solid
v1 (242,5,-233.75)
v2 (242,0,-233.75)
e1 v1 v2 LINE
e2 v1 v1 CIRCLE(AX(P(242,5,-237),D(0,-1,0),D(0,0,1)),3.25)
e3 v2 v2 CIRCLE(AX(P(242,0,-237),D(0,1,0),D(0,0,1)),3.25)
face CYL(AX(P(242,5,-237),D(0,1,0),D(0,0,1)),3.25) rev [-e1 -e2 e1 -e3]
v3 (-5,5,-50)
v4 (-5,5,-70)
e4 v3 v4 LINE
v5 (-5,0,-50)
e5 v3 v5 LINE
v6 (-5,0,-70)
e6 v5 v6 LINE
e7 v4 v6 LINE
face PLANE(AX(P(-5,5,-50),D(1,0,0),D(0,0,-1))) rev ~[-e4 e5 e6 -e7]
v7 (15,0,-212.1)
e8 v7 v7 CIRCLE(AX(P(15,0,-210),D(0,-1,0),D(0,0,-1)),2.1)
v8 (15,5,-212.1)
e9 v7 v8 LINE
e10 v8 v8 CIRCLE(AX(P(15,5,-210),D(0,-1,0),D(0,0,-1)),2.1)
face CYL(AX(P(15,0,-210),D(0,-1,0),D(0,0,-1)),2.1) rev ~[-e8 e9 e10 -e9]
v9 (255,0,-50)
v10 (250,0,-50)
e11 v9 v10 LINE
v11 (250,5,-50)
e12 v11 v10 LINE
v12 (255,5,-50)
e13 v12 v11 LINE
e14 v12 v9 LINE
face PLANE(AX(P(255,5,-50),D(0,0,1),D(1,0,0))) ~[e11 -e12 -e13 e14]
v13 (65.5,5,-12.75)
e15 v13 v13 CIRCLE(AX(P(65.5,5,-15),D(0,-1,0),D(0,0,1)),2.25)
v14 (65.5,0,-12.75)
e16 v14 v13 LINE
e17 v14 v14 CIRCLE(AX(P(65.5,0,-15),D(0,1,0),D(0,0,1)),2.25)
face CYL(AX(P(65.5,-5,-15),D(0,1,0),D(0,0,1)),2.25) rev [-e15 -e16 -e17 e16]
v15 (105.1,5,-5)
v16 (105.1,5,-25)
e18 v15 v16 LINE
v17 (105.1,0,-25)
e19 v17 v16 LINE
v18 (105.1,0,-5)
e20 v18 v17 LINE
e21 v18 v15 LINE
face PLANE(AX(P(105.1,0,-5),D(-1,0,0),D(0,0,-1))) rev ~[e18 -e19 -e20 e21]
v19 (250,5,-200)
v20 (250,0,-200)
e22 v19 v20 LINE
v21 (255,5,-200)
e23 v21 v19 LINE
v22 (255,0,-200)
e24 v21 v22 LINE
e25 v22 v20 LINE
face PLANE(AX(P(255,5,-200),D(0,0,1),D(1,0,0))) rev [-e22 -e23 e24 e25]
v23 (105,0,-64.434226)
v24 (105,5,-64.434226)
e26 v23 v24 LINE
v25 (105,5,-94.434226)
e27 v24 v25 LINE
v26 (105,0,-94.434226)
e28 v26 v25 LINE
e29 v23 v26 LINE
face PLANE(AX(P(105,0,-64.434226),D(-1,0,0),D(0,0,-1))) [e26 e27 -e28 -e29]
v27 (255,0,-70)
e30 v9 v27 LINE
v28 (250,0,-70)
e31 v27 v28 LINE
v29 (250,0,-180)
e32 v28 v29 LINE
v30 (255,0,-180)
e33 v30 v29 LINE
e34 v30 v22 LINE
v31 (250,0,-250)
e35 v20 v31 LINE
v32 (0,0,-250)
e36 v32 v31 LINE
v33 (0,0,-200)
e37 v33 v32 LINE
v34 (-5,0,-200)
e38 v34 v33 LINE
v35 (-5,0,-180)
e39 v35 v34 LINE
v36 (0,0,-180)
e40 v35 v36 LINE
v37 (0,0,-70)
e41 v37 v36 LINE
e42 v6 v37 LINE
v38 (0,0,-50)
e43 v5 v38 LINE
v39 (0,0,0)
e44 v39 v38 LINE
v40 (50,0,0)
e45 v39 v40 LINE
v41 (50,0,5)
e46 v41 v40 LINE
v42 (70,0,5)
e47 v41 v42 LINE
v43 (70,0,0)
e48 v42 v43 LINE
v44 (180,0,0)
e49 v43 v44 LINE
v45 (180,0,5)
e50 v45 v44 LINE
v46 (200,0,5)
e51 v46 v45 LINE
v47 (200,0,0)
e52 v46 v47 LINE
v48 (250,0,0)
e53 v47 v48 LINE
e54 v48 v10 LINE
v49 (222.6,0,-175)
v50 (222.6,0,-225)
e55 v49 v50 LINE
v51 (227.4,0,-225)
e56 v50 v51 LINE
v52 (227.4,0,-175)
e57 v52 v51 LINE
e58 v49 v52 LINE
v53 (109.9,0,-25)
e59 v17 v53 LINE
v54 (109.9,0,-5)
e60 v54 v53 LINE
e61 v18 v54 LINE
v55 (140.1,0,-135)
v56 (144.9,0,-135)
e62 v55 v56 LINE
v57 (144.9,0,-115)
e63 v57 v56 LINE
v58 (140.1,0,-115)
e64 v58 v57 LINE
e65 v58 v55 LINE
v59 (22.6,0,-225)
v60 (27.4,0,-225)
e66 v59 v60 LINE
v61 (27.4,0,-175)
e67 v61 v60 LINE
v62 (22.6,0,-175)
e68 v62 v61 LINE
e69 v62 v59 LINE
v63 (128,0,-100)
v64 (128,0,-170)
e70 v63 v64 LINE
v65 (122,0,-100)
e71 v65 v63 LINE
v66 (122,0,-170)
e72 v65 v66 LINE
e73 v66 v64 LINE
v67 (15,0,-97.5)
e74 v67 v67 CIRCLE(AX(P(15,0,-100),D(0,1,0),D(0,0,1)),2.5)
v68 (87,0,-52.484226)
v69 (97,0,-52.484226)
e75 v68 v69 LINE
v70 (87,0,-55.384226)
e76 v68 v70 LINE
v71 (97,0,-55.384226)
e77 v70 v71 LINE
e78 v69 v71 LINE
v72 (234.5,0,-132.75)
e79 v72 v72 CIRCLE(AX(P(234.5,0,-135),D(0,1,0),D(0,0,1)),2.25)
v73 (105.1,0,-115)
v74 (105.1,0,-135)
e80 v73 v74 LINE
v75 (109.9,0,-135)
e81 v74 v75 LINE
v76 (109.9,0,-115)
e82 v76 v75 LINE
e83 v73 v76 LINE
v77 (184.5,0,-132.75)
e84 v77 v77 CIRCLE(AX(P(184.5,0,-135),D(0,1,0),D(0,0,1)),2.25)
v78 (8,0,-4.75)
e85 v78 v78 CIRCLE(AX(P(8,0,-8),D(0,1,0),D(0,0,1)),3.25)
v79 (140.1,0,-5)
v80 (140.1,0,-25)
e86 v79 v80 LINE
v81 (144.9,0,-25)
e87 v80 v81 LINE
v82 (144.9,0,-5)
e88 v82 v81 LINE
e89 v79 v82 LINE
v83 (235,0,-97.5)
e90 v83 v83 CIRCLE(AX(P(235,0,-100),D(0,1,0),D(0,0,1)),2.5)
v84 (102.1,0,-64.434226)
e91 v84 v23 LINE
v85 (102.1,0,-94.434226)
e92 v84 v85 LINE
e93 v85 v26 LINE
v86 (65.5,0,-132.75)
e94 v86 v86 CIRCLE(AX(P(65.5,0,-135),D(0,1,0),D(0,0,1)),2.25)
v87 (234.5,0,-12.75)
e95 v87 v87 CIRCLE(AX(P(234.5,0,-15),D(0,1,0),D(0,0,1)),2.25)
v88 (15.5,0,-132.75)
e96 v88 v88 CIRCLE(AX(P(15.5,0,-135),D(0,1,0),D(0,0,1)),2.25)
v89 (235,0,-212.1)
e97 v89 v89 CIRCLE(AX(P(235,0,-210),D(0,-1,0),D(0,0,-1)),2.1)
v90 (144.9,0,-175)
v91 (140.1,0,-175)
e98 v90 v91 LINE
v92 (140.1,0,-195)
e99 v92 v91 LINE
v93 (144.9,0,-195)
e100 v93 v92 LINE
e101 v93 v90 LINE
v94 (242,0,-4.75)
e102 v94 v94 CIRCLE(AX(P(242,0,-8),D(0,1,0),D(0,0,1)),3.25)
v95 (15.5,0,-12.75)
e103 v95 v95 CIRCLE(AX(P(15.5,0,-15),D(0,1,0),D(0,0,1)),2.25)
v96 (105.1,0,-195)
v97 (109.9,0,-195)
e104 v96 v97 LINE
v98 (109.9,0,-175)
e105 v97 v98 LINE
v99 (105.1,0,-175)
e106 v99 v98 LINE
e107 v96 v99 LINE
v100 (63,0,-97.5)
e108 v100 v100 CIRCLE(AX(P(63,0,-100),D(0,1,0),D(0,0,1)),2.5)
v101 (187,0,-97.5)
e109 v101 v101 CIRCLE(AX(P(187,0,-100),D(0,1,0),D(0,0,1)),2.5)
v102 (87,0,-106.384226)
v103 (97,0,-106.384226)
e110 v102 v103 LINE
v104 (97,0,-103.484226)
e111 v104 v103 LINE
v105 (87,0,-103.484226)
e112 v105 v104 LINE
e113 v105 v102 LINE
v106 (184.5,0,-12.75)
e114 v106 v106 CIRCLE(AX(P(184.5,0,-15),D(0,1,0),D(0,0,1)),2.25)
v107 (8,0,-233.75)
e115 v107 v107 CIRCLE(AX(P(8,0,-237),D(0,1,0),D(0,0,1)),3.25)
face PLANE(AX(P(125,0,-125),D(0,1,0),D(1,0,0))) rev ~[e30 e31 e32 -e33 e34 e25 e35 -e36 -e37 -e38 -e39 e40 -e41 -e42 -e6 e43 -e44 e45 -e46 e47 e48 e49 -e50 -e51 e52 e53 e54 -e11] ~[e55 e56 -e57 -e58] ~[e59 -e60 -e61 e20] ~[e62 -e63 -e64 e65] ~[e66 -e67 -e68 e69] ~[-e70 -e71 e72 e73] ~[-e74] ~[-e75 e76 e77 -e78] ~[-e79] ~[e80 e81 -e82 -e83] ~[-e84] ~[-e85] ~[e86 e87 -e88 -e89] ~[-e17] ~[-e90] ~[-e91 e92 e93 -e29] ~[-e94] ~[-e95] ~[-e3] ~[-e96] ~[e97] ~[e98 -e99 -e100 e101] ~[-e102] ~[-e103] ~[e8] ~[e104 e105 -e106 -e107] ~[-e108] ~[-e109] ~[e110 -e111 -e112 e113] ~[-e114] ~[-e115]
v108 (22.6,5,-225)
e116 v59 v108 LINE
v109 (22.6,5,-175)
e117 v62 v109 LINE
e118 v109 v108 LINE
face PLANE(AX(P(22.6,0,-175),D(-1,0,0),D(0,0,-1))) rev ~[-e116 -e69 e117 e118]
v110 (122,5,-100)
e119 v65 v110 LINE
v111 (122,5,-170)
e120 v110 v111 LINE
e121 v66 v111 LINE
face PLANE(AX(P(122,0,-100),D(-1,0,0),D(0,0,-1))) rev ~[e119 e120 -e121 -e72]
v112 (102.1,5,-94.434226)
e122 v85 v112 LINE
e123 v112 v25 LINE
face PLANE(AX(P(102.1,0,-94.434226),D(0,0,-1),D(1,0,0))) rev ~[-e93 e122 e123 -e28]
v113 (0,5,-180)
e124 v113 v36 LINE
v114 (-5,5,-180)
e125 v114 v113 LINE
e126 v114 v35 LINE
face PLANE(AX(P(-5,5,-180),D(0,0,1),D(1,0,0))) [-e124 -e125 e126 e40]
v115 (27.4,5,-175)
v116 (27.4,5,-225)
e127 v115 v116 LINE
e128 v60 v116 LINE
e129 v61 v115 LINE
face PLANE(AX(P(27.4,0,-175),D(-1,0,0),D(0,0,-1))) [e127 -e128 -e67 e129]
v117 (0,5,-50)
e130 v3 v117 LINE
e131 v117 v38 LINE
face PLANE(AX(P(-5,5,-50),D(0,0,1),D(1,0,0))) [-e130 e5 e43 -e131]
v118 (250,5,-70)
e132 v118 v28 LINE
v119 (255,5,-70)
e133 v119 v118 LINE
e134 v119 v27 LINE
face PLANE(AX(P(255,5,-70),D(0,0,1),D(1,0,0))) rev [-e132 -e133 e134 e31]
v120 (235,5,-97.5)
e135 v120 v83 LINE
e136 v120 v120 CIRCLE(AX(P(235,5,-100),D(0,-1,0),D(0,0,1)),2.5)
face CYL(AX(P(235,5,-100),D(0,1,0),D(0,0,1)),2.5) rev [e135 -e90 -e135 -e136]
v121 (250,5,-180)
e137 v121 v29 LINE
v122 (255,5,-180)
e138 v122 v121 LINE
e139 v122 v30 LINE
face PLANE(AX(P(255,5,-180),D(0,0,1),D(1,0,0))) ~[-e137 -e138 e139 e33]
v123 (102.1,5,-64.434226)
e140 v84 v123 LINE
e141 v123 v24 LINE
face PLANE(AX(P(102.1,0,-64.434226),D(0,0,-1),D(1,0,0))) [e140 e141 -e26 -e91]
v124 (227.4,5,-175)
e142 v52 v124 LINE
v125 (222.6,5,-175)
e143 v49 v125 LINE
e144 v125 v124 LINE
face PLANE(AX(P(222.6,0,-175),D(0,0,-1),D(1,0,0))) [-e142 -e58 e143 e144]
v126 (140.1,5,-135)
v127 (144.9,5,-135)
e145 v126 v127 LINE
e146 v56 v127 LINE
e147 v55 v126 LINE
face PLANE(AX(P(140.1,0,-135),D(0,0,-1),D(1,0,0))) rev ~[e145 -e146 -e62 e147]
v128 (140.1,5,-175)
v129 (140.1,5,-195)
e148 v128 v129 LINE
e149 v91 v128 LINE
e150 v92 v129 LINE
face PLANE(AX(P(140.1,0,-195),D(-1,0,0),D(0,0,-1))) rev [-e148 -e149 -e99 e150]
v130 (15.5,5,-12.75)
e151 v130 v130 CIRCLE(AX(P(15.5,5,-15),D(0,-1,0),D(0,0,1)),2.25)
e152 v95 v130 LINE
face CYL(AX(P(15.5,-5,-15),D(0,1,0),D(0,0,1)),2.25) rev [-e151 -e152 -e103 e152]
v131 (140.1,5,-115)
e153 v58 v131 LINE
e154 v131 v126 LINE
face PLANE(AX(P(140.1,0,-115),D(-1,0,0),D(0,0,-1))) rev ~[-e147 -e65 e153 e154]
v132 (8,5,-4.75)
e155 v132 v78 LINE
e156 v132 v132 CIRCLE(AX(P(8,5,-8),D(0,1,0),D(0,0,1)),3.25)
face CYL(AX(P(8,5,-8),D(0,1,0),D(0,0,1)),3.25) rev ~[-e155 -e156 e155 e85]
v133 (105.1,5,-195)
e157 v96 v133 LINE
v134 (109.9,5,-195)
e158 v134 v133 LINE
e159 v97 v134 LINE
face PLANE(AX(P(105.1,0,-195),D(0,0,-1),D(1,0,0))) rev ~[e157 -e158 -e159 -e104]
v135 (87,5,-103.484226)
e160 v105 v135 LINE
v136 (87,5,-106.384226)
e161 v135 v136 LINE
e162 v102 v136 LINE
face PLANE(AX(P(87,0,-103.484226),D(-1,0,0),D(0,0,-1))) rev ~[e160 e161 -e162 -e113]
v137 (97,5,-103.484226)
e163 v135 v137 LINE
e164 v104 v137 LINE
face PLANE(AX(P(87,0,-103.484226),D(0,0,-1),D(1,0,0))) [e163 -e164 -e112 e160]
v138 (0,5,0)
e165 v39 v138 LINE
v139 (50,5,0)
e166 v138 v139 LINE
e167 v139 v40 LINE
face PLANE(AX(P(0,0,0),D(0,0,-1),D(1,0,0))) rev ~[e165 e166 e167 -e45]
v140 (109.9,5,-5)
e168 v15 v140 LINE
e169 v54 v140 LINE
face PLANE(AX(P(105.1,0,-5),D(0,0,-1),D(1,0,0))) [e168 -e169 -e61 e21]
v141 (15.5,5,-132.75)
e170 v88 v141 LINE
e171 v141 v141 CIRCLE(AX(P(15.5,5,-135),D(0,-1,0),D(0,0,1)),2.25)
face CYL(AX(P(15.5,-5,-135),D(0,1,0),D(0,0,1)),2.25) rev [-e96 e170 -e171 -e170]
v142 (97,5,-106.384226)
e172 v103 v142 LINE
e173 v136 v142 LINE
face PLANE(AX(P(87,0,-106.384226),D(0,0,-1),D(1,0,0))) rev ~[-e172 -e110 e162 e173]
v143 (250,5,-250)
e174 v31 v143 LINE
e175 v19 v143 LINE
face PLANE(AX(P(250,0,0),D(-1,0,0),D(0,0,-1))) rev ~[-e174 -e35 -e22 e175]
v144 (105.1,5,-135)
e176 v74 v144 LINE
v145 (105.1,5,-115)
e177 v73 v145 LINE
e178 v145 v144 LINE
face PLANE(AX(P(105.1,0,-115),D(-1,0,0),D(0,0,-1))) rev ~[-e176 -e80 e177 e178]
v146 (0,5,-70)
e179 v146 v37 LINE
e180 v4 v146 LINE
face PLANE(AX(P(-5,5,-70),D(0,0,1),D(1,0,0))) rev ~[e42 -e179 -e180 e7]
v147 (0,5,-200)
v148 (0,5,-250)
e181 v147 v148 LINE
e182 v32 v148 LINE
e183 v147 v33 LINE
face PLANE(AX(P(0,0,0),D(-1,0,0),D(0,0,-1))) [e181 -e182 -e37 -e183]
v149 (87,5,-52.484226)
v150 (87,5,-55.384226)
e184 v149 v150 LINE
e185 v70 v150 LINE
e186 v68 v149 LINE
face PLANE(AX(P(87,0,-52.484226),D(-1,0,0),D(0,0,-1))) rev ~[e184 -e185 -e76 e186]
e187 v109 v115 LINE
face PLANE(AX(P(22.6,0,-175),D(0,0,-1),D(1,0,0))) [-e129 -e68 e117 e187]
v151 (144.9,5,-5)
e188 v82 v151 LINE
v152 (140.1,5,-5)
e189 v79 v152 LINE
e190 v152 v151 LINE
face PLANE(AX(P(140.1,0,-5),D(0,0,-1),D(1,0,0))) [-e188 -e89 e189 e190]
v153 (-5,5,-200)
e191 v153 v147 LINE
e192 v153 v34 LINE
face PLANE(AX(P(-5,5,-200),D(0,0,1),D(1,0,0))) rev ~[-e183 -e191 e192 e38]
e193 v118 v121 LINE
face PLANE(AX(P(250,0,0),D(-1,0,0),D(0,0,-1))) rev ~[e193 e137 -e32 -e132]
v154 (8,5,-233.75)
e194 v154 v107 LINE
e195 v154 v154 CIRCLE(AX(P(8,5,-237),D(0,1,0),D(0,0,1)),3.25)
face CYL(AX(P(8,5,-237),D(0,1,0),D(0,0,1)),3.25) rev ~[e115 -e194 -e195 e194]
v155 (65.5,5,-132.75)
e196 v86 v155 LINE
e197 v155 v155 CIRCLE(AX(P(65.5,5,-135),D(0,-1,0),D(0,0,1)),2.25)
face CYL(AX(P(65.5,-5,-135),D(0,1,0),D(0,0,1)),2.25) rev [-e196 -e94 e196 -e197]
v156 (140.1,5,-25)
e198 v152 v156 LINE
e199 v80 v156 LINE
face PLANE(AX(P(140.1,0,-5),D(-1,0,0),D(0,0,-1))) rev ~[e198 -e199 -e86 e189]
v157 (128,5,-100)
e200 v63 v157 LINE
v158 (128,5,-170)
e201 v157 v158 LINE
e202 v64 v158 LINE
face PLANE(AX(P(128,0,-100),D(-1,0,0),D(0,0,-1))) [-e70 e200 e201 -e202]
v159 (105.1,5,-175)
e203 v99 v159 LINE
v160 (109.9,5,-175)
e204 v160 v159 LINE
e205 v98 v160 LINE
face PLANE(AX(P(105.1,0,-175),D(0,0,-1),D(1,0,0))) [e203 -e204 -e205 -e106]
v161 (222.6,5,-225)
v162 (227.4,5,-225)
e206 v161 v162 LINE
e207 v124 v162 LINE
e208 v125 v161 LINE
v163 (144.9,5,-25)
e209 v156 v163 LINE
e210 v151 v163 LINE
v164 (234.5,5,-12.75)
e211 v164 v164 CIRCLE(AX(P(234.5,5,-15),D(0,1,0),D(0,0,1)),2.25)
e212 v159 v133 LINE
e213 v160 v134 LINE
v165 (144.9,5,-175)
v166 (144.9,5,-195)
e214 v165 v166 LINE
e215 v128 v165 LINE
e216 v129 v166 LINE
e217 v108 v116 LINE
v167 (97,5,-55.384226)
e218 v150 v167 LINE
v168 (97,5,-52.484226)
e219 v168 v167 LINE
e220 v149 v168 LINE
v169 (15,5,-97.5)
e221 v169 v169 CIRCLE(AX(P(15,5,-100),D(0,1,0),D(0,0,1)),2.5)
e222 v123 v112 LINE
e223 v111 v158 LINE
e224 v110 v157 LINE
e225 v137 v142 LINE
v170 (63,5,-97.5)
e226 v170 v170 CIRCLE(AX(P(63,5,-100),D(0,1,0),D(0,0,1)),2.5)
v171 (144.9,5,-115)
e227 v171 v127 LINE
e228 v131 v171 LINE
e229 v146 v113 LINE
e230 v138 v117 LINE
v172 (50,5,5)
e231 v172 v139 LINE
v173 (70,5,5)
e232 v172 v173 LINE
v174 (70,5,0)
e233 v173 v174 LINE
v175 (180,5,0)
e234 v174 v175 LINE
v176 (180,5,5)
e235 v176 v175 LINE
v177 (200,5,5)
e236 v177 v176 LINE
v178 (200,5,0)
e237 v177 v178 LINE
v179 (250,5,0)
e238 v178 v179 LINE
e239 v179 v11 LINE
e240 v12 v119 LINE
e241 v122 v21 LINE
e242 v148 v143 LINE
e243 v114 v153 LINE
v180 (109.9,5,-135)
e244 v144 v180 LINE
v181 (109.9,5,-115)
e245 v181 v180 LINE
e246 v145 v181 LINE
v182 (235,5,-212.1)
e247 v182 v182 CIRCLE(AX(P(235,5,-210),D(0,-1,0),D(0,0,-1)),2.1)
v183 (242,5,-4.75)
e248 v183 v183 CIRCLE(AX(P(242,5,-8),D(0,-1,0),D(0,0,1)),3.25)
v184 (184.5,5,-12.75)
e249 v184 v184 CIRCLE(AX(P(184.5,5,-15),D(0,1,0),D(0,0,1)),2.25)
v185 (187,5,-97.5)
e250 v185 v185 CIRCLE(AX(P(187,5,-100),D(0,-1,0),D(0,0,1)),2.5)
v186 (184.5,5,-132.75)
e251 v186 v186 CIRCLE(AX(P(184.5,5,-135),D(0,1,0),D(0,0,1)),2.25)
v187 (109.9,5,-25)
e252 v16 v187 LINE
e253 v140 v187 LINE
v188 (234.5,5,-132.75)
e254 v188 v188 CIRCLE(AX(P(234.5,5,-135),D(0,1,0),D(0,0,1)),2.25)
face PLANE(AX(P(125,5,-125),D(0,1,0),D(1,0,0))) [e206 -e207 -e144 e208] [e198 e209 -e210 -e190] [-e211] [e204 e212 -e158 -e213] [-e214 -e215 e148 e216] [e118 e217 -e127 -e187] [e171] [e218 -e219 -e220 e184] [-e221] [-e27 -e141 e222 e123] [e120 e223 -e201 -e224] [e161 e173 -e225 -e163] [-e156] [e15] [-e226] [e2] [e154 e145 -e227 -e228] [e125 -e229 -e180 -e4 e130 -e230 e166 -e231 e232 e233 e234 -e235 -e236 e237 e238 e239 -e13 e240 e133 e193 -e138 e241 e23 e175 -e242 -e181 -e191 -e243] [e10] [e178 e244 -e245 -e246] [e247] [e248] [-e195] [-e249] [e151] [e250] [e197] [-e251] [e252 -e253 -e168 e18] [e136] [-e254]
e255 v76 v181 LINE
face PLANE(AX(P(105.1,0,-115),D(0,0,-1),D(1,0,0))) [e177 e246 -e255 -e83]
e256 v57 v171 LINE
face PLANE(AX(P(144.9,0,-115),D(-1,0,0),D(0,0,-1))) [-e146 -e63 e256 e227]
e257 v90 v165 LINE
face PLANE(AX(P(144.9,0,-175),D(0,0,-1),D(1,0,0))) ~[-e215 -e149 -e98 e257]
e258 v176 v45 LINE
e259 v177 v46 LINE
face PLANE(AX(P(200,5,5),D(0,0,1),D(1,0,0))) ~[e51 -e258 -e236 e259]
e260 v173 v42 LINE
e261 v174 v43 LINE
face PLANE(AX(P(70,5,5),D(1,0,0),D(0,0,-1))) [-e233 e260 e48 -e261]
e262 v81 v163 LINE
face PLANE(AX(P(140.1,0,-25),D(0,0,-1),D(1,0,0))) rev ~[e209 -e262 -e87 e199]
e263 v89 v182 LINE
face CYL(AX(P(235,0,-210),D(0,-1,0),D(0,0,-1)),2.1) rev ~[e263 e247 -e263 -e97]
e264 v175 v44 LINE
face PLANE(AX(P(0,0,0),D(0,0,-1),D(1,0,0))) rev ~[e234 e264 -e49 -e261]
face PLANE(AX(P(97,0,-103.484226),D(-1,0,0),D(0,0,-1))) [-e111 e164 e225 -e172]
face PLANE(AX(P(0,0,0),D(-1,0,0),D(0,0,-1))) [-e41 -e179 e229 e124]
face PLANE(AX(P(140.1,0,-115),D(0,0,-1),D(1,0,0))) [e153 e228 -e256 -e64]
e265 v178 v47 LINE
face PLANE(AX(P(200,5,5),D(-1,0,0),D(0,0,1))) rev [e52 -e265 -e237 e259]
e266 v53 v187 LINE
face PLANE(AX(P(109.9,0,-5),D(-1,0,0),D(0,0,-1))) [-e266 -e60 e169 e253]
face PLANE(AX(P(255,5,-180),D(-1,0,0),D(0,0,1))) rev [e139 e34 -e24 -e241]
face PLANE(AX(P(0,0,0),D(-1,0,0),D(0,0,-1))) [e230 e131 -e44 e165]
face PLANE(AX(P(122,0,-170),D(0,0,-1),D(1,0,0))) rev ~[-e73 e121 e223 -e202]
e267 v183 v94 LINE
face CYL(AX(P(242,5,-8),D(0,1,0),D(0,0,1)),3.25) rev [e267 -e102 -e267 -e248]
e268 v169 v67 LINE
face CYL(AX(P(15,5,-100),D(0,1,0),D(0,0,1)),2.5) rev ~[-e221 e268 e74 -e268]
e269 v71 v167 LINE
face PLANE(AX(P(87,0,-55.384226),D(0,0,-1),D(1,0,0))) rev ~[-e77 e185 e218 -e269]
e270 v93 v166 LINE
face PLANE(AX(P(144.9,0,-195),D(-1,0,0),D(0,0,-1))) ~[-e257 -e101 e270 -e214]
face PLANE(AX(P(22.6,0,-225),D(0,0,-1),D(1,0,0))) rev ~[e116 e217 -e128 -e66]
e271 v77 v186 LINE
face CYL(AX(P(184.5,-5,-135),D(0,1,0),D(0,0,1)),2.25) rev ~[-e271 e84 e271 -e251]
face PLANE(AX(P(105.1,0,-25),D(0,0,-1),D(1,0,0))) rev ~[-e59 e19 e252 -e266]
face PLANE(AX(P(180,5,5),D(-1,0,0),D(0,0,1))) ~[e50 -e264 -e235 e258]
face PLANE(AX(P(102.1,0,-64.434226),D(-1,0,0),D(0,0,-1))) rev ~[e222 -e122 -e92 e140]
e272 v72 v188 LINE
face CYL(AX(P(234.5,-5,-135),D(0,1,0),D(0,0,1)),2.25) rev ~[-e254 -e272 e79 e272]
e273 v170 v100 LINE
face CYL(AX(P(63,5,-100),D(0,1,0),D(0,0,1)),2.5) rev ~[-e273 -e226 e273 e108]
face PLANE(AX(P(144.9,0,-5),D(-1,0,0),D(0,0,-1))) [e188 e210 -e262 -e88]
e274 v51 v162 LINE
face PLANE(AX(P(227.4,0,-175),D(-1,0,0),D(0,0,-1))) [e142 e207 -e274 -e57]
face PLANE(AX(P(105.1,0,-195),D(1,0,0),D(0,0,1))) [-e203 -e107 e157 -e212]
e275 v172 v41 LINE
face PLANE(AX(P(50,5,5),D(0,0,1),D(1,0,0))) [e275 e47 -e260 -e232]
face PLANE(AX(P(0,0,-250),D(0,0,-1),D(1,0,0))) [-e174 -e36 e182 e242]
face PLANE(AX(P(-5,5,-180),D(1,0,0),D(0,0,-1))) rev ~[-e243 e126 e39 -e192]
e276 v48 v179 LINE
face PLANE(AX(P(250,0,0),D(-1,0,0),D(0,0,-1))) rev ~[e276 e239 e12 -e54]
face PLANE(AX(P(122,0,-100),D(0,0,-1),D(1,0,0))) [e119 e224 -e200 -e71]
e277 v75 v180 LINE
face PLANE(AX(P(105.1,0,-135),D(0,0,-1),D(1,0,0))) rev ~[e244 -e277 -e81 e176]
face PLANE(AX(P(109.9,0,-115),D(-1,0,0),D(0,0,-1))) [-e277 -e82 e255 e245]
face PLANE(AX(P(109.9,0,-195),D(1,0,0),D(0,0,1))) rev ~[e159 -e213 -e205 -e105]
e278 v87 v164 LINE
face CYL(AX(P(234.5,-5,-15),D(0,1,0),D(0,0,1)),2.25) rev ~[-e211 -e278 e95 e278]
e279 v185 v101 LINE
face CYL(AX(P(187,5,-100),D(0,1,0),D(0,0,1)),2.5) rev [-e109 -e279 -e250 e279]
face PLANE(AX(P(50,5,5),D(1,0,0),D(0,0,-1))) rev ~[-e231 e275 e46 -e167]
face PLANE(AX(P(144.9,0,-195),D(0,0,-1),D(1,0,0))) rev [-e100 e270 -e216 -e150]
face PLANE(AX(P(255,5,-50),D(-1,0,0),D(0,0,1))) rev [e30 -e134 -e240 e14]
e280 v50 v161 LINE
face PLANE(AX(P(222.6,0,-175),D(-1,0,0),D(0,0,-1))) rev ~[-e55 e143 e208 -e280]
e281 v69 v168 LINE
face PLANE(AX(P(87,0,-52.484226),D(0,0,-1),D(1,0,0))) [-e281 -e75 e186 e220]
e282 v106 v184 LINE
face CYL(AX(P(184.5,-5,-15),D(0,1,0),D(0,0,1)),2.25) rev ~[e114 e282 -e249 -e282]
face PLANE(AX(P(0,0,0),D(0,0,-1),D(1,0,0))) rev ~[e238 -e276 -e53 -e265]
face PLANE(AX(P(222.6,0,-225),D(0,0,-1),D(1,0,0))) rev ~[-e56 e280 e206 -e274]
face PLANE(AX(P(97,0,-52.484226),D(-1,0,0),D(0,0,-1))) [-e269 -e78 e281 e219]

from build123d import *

# Parameters (mm, degrees)
SKETCH1_W                           = 250
SKETCH1_H                           = 250
SKETCH1_W_2                         = 4.8
SKETCH1_H_2                         = 20
SKETCH1_W_3                         = 10
SKETCH1_H_3                         = 2.9
SKETCH1_W_4                         = 2.9
SKETCH1_H_4                         = 30
SKETCH1_H_5                         = 50
SKETCH1_W_5                         = 6
SKETCH1_H_6                         = 70
BOSS_EXTRUDE1_DEPTH                 = 5
SKETCH2_R                           = 2.5
CUT_EXTRUDE1_DEPTH                  = 354.588744165
SKETCH3_R                           = 3.25
CUT_EXTRUDE2_DEPTH                  = 354.588744165
SKETCH4_W                           = 5
SKETCH4_H                           = 20
SKETCH4_W_2                         = 20
SKETCH4_H_2                         = 5
BOSS_EXTRUDE2_DEPTH                 = 5
F_4_5_4_5_DIAMETER_HOLE1_AT_2_COUNT = 2
F_4_5_4_5_DIAMETER_HOLE1_AT_2_PITCH = 50
F_4_5_4_5_DIAMETER_HOLE1_AT_3_COUNT = 2
F_4_5_4_5_DIAMETER_HOLE1_AT_3_PITCH = 130
F_4_5_4_5_DIAMETER_HOLE1_AT_4_COUNT = 2
F_4_5_4_5_DIAMETER_HOLE1_AT_4_PITCH = 120
SKETCH9_W                           = 4.8
SKETCH9_H                           = 20
CUT_EXTRUDE3_DEPTH                  = 358.141428569
SKETCH10_R                          = 2.1
CUT_EXTRUDE4_DEPTH                  = 5


with BuildPart() as part:
    # Sketch1 → Boss-Extrude1 (new body)
    with BuildSketch(Plane(origin=(0, 0, 0), x_dir=(1, 0, 0), z_dir=(0, 1, 0))):
        with Locations((125, 125)):
            Rectangle(SKETCH1_W, SKETCH1_H)
        with Locations((142.5, 15)):
            Rectangle(SKETCH1_W_2, SKETCH1_H_2, mode=Mode.SUBTRACT)
        with Locations((107.5, 15)):
            Rectangle(SKETCH1_W_2, SKETCH1_H_2, mode=Mode.SUBTRACT)
        with Locations((92, 53.93422616)):
            Rectangle(SKETCH1_W_3, SKETCH1_H_3, mode=Mode.SUBTRACT)
        with Locations((103.55, 79.434226159)):
            Rectangle(SKETCH1_W_4, SKETCH1_H_4, mode=Mode.SUBTRACT)
        with Locations((92, 104.93422616)):
            Rectangle(SKETCH1_W_3, SKETCH1_H_3, mode=Mode.SUBTRACT)
        with Locations((107.5, 125)):
            Rectangle(SKETCH1_W_2, SKETCH1_H_2, mode=Mode.SUBTRACT)
        with Locations((142.5, 125)):
            Rectangle(SKETCH1_W_2, SKETCH1_H_2, mode=Mode.SUBTRACT)
        with Locations((225, 200)):
            Rectangle(SKETCH1_W_2, SKETCH1_H_5, mode=Mode.SUBTRACT)
        with Locations((125, 135)):
            Rectangle(SKETCH1_W_5, SKETCH1_H_6, mode=Mode.SUBTRACT)
        with Locations((25, 200)):
            Rectangle(SKETCH1_W_2, SKETCH1_H_5, mode=Mode.SUBTRACT)
    extrude(amount=BOSS_EXTRUDE1_DEPTH)

    # Sketch2 → Cut-Extrude1 (cut, through all)
    with BuildSketch(Plane(origin=(0, 5, 0), x_dir=(1, 0, 0), z_dir=(0, 1, 0))):
        with Locations(Location((15, 100, 0), (0, 0, 270))):
            Circle(SKETCH2_R)
        with Locations(Location((63, 100, 0), (0, 0, 270))):
            Circle(SKETCH2_R)
    cut_extrude1 = extrude(amount=-CUT_EXTRUDE1_DEPTH, mode=Mode.SUBTRACT)

    # Sketch3 → Cut-Extrude2 (cut, through all)
    with BuildSketch(Plane(origin=(0, 5, 0), x_dir=(1, 0, 0), z_dir=(0, 1, 0))):
        with Locations(Location((8, 8, 0), (0, 0, 270))):
            Circle(SKETCH3_R)
        with Locations(Location((8, 237, 0), (0, 0, 270))):
            Circle(SKETCH3_R)
    cut_extrude2 = extrude(amount=-CUT_EXTRUDE2_DEPTH, mode=Mode.SUBTRACT)

    # Mirror1: Cut-Extrude2 across plane
    add(cut_extrude2.mirror(Plane.ZY.offset(-125)), mode=Mode.SUBTRACT)

    # Sketch4 → Boss-Extrude2 (add)
    with BuildSketch(Plane(origin=(0, 5, 0), x_dir=(1, 0, 0), z_dir=(0, 1, 0))):
        with Locations((-2.5, 190)):
            Rectangle(SKETCH4_W, SKETCH4_H)
        with Locations((-2.5, 60)):
            Rectangle(SKETCH4_W, SKETCH4_H)
        with Locations((60, -2.5)):
            Rectangle(SKETCH4_W_2, SKETCH4_H_2)
    boss_extrude2 = extrude(amount=-BOSS_EXTRUDE2_DEPTH)

    # Mirror2: Boss-Extrude2 across plane
    add(boss_extrude2.mirror(Plane.ZY.offset(-125)))

    # Mirror3: Cut-Extrude1 across plane
    add(cut_extrude1.mirror(Plane.ZY.offset(-125)), mode=Mode.SUBTRACT)

    # Sketch6 → Ø4.5 (4.5) Diameter Hole1 (revolve, cut)
    with BuildSketch(Plane(origin=(15.5, 5, -135), x_dir=(0, 0, 1), z_dir=(1, 0, 0))):
        Polygon((0, 0), (0, 11.351936393), (2.25, 10), (2.25, 0), align=None)
    f_4_5_4_5_diameter_hole1 = revolve(axis=Axis((15.5, 11.35, -135), (0, -1, 0)), mode=Mode.SUBTRACT)

    # Ø4.5 (4.5) Diameter Hole1 at 2: Ø4.5 (4.5) Diameter Hole1 ×2
    with Locations(*[(i * F_4_5_4_5_DIAMETER_HOLE1_AT_2_PITCH, 0, 0) for i in range(1, F_4_5_4_5_DIAMETER_HOLE1_AT_2_COUNT)]):
        add(f_4_5_4_5_diameter_hole1, mode=Mode.SUBTRACT)

    # Ø4.5 (4.5) Diameter Hole1 at 3: Ø4.5 (4.5) Diameter Hole1 ×2
    with Locations(*[Vector(0.38461538461538475, 0, 0.9230769230769231) * (i * F_4_5_4_5_DIAMETER_HOLE1_AT_3_PITCH) for i in range(1, F_4_5_4_5_DIAMETER_HOLE1_AT_3_COUNT)]):
        add(f_4_5_4_5_diameter_hole1, mode=Mode.SUBTRACT)

    # Ø4.5 (4.5) Diameter Hole1 at 4: Ø4.5 (4.5) Diameter Hole1 ×2
    with Locations(*[(0, 0, i * F_4_5_4_5_DIAMETER_HOLE1_AT_4_PITCH) for i in range(1, F_4_5_4_5_DIAMETER_HOLE1_AT_4_COUNT)]):
        add(f_4_5_4_5_diameter_hole1, mode=Mode.SUBTRACT)

    # Mirror4: Ø4.5 (4.5) Diameter Hole1 across plane
    add(f_4_5_4_5_diameter_hole1.mirror(Plane.ZY.offset(-125)), mode=Mode.SUBTRACT)

    # Mirror4 copy 1 sketch → Mirror4 copy 1 (revolve, cut)
    with BuildSketch(Plane(origin=(184.5, 5, -135), x_dir=(0, 0, 1), z_dir=(-1, 0, 0))):
        Polygon((0, 0), (0, -11.351936393), (2.25, -10), (2.25, 0), align=None)
    revolve(axis=Axis((184.5, 11.35, -135), (0, 1, 0)), mode=Mode.SUBTRACT)

    # Mirror4 copy 2 sketch → Mirror4 copy 2 (revolve, cut)
    with BuildSketch(Plane(origin=(184.5, 5, -15), x_dir=(0, 0, 1), z_dir=(-1, 0, 0))):
        Polygon((0, 0), (0, -11.351936393), (2.25, -10), (2.25, 0), align=None)
    revolve(axis=Axis((184.5, 11.35, -15), (0, 1, 0)), mode=Mode.SUBTRACT)

    # Mirror4 copy 3 sketch → Mirror4 copy 3 (revolve, cut)
    with BuildSketch(Plane(origin=(234.5, 5, -15), x_dir=(0, 0, 1), z_dir=(-1, 0, 0))):
        Polygon((0, 0), (0, -11.351936393), (2.25, -10), (2.25, 0), align=None)
    revolve(axis=Axis((234.5, 11.35, -15), (0, 1, 0)), mode=Mode.SUBTRACT)

    # Sketch9 → Cut-Extrude3 (cut, through all)
    with BuildSketch(Plane.XZ):
        with Locations((107.5, -185)):
            Rectangle(SKETCH9_W, SKETCH9_H)
    cut_extrude3 = extrude(amount=-CUT_EXTRUDE3_DEPTH, mode=Mode.SUBTRACT)

    # Mirror5: Cut-Extrude3 across plane
    add(cut_extrude3.mirror(Plane.ZY.offset(-125)), mode=Mode.SUBTRACT)

    # Sketch10 → Cut-Extrude4 (cut)
    with BuildSketch(Plane.XZ):
        with Locations(Location((15, -210, 0), (0, 0, 270))):
            Circle(SKETCH10_R)
        with Locations(Location((235, -210, 0), (0, 0, 270))):
            Circle(SKETCH10_R)
    extrude(amount=-CUT_EXTRUDE4_DEPTH, mode=Mode.SUBTRACT)


solid = part.part
